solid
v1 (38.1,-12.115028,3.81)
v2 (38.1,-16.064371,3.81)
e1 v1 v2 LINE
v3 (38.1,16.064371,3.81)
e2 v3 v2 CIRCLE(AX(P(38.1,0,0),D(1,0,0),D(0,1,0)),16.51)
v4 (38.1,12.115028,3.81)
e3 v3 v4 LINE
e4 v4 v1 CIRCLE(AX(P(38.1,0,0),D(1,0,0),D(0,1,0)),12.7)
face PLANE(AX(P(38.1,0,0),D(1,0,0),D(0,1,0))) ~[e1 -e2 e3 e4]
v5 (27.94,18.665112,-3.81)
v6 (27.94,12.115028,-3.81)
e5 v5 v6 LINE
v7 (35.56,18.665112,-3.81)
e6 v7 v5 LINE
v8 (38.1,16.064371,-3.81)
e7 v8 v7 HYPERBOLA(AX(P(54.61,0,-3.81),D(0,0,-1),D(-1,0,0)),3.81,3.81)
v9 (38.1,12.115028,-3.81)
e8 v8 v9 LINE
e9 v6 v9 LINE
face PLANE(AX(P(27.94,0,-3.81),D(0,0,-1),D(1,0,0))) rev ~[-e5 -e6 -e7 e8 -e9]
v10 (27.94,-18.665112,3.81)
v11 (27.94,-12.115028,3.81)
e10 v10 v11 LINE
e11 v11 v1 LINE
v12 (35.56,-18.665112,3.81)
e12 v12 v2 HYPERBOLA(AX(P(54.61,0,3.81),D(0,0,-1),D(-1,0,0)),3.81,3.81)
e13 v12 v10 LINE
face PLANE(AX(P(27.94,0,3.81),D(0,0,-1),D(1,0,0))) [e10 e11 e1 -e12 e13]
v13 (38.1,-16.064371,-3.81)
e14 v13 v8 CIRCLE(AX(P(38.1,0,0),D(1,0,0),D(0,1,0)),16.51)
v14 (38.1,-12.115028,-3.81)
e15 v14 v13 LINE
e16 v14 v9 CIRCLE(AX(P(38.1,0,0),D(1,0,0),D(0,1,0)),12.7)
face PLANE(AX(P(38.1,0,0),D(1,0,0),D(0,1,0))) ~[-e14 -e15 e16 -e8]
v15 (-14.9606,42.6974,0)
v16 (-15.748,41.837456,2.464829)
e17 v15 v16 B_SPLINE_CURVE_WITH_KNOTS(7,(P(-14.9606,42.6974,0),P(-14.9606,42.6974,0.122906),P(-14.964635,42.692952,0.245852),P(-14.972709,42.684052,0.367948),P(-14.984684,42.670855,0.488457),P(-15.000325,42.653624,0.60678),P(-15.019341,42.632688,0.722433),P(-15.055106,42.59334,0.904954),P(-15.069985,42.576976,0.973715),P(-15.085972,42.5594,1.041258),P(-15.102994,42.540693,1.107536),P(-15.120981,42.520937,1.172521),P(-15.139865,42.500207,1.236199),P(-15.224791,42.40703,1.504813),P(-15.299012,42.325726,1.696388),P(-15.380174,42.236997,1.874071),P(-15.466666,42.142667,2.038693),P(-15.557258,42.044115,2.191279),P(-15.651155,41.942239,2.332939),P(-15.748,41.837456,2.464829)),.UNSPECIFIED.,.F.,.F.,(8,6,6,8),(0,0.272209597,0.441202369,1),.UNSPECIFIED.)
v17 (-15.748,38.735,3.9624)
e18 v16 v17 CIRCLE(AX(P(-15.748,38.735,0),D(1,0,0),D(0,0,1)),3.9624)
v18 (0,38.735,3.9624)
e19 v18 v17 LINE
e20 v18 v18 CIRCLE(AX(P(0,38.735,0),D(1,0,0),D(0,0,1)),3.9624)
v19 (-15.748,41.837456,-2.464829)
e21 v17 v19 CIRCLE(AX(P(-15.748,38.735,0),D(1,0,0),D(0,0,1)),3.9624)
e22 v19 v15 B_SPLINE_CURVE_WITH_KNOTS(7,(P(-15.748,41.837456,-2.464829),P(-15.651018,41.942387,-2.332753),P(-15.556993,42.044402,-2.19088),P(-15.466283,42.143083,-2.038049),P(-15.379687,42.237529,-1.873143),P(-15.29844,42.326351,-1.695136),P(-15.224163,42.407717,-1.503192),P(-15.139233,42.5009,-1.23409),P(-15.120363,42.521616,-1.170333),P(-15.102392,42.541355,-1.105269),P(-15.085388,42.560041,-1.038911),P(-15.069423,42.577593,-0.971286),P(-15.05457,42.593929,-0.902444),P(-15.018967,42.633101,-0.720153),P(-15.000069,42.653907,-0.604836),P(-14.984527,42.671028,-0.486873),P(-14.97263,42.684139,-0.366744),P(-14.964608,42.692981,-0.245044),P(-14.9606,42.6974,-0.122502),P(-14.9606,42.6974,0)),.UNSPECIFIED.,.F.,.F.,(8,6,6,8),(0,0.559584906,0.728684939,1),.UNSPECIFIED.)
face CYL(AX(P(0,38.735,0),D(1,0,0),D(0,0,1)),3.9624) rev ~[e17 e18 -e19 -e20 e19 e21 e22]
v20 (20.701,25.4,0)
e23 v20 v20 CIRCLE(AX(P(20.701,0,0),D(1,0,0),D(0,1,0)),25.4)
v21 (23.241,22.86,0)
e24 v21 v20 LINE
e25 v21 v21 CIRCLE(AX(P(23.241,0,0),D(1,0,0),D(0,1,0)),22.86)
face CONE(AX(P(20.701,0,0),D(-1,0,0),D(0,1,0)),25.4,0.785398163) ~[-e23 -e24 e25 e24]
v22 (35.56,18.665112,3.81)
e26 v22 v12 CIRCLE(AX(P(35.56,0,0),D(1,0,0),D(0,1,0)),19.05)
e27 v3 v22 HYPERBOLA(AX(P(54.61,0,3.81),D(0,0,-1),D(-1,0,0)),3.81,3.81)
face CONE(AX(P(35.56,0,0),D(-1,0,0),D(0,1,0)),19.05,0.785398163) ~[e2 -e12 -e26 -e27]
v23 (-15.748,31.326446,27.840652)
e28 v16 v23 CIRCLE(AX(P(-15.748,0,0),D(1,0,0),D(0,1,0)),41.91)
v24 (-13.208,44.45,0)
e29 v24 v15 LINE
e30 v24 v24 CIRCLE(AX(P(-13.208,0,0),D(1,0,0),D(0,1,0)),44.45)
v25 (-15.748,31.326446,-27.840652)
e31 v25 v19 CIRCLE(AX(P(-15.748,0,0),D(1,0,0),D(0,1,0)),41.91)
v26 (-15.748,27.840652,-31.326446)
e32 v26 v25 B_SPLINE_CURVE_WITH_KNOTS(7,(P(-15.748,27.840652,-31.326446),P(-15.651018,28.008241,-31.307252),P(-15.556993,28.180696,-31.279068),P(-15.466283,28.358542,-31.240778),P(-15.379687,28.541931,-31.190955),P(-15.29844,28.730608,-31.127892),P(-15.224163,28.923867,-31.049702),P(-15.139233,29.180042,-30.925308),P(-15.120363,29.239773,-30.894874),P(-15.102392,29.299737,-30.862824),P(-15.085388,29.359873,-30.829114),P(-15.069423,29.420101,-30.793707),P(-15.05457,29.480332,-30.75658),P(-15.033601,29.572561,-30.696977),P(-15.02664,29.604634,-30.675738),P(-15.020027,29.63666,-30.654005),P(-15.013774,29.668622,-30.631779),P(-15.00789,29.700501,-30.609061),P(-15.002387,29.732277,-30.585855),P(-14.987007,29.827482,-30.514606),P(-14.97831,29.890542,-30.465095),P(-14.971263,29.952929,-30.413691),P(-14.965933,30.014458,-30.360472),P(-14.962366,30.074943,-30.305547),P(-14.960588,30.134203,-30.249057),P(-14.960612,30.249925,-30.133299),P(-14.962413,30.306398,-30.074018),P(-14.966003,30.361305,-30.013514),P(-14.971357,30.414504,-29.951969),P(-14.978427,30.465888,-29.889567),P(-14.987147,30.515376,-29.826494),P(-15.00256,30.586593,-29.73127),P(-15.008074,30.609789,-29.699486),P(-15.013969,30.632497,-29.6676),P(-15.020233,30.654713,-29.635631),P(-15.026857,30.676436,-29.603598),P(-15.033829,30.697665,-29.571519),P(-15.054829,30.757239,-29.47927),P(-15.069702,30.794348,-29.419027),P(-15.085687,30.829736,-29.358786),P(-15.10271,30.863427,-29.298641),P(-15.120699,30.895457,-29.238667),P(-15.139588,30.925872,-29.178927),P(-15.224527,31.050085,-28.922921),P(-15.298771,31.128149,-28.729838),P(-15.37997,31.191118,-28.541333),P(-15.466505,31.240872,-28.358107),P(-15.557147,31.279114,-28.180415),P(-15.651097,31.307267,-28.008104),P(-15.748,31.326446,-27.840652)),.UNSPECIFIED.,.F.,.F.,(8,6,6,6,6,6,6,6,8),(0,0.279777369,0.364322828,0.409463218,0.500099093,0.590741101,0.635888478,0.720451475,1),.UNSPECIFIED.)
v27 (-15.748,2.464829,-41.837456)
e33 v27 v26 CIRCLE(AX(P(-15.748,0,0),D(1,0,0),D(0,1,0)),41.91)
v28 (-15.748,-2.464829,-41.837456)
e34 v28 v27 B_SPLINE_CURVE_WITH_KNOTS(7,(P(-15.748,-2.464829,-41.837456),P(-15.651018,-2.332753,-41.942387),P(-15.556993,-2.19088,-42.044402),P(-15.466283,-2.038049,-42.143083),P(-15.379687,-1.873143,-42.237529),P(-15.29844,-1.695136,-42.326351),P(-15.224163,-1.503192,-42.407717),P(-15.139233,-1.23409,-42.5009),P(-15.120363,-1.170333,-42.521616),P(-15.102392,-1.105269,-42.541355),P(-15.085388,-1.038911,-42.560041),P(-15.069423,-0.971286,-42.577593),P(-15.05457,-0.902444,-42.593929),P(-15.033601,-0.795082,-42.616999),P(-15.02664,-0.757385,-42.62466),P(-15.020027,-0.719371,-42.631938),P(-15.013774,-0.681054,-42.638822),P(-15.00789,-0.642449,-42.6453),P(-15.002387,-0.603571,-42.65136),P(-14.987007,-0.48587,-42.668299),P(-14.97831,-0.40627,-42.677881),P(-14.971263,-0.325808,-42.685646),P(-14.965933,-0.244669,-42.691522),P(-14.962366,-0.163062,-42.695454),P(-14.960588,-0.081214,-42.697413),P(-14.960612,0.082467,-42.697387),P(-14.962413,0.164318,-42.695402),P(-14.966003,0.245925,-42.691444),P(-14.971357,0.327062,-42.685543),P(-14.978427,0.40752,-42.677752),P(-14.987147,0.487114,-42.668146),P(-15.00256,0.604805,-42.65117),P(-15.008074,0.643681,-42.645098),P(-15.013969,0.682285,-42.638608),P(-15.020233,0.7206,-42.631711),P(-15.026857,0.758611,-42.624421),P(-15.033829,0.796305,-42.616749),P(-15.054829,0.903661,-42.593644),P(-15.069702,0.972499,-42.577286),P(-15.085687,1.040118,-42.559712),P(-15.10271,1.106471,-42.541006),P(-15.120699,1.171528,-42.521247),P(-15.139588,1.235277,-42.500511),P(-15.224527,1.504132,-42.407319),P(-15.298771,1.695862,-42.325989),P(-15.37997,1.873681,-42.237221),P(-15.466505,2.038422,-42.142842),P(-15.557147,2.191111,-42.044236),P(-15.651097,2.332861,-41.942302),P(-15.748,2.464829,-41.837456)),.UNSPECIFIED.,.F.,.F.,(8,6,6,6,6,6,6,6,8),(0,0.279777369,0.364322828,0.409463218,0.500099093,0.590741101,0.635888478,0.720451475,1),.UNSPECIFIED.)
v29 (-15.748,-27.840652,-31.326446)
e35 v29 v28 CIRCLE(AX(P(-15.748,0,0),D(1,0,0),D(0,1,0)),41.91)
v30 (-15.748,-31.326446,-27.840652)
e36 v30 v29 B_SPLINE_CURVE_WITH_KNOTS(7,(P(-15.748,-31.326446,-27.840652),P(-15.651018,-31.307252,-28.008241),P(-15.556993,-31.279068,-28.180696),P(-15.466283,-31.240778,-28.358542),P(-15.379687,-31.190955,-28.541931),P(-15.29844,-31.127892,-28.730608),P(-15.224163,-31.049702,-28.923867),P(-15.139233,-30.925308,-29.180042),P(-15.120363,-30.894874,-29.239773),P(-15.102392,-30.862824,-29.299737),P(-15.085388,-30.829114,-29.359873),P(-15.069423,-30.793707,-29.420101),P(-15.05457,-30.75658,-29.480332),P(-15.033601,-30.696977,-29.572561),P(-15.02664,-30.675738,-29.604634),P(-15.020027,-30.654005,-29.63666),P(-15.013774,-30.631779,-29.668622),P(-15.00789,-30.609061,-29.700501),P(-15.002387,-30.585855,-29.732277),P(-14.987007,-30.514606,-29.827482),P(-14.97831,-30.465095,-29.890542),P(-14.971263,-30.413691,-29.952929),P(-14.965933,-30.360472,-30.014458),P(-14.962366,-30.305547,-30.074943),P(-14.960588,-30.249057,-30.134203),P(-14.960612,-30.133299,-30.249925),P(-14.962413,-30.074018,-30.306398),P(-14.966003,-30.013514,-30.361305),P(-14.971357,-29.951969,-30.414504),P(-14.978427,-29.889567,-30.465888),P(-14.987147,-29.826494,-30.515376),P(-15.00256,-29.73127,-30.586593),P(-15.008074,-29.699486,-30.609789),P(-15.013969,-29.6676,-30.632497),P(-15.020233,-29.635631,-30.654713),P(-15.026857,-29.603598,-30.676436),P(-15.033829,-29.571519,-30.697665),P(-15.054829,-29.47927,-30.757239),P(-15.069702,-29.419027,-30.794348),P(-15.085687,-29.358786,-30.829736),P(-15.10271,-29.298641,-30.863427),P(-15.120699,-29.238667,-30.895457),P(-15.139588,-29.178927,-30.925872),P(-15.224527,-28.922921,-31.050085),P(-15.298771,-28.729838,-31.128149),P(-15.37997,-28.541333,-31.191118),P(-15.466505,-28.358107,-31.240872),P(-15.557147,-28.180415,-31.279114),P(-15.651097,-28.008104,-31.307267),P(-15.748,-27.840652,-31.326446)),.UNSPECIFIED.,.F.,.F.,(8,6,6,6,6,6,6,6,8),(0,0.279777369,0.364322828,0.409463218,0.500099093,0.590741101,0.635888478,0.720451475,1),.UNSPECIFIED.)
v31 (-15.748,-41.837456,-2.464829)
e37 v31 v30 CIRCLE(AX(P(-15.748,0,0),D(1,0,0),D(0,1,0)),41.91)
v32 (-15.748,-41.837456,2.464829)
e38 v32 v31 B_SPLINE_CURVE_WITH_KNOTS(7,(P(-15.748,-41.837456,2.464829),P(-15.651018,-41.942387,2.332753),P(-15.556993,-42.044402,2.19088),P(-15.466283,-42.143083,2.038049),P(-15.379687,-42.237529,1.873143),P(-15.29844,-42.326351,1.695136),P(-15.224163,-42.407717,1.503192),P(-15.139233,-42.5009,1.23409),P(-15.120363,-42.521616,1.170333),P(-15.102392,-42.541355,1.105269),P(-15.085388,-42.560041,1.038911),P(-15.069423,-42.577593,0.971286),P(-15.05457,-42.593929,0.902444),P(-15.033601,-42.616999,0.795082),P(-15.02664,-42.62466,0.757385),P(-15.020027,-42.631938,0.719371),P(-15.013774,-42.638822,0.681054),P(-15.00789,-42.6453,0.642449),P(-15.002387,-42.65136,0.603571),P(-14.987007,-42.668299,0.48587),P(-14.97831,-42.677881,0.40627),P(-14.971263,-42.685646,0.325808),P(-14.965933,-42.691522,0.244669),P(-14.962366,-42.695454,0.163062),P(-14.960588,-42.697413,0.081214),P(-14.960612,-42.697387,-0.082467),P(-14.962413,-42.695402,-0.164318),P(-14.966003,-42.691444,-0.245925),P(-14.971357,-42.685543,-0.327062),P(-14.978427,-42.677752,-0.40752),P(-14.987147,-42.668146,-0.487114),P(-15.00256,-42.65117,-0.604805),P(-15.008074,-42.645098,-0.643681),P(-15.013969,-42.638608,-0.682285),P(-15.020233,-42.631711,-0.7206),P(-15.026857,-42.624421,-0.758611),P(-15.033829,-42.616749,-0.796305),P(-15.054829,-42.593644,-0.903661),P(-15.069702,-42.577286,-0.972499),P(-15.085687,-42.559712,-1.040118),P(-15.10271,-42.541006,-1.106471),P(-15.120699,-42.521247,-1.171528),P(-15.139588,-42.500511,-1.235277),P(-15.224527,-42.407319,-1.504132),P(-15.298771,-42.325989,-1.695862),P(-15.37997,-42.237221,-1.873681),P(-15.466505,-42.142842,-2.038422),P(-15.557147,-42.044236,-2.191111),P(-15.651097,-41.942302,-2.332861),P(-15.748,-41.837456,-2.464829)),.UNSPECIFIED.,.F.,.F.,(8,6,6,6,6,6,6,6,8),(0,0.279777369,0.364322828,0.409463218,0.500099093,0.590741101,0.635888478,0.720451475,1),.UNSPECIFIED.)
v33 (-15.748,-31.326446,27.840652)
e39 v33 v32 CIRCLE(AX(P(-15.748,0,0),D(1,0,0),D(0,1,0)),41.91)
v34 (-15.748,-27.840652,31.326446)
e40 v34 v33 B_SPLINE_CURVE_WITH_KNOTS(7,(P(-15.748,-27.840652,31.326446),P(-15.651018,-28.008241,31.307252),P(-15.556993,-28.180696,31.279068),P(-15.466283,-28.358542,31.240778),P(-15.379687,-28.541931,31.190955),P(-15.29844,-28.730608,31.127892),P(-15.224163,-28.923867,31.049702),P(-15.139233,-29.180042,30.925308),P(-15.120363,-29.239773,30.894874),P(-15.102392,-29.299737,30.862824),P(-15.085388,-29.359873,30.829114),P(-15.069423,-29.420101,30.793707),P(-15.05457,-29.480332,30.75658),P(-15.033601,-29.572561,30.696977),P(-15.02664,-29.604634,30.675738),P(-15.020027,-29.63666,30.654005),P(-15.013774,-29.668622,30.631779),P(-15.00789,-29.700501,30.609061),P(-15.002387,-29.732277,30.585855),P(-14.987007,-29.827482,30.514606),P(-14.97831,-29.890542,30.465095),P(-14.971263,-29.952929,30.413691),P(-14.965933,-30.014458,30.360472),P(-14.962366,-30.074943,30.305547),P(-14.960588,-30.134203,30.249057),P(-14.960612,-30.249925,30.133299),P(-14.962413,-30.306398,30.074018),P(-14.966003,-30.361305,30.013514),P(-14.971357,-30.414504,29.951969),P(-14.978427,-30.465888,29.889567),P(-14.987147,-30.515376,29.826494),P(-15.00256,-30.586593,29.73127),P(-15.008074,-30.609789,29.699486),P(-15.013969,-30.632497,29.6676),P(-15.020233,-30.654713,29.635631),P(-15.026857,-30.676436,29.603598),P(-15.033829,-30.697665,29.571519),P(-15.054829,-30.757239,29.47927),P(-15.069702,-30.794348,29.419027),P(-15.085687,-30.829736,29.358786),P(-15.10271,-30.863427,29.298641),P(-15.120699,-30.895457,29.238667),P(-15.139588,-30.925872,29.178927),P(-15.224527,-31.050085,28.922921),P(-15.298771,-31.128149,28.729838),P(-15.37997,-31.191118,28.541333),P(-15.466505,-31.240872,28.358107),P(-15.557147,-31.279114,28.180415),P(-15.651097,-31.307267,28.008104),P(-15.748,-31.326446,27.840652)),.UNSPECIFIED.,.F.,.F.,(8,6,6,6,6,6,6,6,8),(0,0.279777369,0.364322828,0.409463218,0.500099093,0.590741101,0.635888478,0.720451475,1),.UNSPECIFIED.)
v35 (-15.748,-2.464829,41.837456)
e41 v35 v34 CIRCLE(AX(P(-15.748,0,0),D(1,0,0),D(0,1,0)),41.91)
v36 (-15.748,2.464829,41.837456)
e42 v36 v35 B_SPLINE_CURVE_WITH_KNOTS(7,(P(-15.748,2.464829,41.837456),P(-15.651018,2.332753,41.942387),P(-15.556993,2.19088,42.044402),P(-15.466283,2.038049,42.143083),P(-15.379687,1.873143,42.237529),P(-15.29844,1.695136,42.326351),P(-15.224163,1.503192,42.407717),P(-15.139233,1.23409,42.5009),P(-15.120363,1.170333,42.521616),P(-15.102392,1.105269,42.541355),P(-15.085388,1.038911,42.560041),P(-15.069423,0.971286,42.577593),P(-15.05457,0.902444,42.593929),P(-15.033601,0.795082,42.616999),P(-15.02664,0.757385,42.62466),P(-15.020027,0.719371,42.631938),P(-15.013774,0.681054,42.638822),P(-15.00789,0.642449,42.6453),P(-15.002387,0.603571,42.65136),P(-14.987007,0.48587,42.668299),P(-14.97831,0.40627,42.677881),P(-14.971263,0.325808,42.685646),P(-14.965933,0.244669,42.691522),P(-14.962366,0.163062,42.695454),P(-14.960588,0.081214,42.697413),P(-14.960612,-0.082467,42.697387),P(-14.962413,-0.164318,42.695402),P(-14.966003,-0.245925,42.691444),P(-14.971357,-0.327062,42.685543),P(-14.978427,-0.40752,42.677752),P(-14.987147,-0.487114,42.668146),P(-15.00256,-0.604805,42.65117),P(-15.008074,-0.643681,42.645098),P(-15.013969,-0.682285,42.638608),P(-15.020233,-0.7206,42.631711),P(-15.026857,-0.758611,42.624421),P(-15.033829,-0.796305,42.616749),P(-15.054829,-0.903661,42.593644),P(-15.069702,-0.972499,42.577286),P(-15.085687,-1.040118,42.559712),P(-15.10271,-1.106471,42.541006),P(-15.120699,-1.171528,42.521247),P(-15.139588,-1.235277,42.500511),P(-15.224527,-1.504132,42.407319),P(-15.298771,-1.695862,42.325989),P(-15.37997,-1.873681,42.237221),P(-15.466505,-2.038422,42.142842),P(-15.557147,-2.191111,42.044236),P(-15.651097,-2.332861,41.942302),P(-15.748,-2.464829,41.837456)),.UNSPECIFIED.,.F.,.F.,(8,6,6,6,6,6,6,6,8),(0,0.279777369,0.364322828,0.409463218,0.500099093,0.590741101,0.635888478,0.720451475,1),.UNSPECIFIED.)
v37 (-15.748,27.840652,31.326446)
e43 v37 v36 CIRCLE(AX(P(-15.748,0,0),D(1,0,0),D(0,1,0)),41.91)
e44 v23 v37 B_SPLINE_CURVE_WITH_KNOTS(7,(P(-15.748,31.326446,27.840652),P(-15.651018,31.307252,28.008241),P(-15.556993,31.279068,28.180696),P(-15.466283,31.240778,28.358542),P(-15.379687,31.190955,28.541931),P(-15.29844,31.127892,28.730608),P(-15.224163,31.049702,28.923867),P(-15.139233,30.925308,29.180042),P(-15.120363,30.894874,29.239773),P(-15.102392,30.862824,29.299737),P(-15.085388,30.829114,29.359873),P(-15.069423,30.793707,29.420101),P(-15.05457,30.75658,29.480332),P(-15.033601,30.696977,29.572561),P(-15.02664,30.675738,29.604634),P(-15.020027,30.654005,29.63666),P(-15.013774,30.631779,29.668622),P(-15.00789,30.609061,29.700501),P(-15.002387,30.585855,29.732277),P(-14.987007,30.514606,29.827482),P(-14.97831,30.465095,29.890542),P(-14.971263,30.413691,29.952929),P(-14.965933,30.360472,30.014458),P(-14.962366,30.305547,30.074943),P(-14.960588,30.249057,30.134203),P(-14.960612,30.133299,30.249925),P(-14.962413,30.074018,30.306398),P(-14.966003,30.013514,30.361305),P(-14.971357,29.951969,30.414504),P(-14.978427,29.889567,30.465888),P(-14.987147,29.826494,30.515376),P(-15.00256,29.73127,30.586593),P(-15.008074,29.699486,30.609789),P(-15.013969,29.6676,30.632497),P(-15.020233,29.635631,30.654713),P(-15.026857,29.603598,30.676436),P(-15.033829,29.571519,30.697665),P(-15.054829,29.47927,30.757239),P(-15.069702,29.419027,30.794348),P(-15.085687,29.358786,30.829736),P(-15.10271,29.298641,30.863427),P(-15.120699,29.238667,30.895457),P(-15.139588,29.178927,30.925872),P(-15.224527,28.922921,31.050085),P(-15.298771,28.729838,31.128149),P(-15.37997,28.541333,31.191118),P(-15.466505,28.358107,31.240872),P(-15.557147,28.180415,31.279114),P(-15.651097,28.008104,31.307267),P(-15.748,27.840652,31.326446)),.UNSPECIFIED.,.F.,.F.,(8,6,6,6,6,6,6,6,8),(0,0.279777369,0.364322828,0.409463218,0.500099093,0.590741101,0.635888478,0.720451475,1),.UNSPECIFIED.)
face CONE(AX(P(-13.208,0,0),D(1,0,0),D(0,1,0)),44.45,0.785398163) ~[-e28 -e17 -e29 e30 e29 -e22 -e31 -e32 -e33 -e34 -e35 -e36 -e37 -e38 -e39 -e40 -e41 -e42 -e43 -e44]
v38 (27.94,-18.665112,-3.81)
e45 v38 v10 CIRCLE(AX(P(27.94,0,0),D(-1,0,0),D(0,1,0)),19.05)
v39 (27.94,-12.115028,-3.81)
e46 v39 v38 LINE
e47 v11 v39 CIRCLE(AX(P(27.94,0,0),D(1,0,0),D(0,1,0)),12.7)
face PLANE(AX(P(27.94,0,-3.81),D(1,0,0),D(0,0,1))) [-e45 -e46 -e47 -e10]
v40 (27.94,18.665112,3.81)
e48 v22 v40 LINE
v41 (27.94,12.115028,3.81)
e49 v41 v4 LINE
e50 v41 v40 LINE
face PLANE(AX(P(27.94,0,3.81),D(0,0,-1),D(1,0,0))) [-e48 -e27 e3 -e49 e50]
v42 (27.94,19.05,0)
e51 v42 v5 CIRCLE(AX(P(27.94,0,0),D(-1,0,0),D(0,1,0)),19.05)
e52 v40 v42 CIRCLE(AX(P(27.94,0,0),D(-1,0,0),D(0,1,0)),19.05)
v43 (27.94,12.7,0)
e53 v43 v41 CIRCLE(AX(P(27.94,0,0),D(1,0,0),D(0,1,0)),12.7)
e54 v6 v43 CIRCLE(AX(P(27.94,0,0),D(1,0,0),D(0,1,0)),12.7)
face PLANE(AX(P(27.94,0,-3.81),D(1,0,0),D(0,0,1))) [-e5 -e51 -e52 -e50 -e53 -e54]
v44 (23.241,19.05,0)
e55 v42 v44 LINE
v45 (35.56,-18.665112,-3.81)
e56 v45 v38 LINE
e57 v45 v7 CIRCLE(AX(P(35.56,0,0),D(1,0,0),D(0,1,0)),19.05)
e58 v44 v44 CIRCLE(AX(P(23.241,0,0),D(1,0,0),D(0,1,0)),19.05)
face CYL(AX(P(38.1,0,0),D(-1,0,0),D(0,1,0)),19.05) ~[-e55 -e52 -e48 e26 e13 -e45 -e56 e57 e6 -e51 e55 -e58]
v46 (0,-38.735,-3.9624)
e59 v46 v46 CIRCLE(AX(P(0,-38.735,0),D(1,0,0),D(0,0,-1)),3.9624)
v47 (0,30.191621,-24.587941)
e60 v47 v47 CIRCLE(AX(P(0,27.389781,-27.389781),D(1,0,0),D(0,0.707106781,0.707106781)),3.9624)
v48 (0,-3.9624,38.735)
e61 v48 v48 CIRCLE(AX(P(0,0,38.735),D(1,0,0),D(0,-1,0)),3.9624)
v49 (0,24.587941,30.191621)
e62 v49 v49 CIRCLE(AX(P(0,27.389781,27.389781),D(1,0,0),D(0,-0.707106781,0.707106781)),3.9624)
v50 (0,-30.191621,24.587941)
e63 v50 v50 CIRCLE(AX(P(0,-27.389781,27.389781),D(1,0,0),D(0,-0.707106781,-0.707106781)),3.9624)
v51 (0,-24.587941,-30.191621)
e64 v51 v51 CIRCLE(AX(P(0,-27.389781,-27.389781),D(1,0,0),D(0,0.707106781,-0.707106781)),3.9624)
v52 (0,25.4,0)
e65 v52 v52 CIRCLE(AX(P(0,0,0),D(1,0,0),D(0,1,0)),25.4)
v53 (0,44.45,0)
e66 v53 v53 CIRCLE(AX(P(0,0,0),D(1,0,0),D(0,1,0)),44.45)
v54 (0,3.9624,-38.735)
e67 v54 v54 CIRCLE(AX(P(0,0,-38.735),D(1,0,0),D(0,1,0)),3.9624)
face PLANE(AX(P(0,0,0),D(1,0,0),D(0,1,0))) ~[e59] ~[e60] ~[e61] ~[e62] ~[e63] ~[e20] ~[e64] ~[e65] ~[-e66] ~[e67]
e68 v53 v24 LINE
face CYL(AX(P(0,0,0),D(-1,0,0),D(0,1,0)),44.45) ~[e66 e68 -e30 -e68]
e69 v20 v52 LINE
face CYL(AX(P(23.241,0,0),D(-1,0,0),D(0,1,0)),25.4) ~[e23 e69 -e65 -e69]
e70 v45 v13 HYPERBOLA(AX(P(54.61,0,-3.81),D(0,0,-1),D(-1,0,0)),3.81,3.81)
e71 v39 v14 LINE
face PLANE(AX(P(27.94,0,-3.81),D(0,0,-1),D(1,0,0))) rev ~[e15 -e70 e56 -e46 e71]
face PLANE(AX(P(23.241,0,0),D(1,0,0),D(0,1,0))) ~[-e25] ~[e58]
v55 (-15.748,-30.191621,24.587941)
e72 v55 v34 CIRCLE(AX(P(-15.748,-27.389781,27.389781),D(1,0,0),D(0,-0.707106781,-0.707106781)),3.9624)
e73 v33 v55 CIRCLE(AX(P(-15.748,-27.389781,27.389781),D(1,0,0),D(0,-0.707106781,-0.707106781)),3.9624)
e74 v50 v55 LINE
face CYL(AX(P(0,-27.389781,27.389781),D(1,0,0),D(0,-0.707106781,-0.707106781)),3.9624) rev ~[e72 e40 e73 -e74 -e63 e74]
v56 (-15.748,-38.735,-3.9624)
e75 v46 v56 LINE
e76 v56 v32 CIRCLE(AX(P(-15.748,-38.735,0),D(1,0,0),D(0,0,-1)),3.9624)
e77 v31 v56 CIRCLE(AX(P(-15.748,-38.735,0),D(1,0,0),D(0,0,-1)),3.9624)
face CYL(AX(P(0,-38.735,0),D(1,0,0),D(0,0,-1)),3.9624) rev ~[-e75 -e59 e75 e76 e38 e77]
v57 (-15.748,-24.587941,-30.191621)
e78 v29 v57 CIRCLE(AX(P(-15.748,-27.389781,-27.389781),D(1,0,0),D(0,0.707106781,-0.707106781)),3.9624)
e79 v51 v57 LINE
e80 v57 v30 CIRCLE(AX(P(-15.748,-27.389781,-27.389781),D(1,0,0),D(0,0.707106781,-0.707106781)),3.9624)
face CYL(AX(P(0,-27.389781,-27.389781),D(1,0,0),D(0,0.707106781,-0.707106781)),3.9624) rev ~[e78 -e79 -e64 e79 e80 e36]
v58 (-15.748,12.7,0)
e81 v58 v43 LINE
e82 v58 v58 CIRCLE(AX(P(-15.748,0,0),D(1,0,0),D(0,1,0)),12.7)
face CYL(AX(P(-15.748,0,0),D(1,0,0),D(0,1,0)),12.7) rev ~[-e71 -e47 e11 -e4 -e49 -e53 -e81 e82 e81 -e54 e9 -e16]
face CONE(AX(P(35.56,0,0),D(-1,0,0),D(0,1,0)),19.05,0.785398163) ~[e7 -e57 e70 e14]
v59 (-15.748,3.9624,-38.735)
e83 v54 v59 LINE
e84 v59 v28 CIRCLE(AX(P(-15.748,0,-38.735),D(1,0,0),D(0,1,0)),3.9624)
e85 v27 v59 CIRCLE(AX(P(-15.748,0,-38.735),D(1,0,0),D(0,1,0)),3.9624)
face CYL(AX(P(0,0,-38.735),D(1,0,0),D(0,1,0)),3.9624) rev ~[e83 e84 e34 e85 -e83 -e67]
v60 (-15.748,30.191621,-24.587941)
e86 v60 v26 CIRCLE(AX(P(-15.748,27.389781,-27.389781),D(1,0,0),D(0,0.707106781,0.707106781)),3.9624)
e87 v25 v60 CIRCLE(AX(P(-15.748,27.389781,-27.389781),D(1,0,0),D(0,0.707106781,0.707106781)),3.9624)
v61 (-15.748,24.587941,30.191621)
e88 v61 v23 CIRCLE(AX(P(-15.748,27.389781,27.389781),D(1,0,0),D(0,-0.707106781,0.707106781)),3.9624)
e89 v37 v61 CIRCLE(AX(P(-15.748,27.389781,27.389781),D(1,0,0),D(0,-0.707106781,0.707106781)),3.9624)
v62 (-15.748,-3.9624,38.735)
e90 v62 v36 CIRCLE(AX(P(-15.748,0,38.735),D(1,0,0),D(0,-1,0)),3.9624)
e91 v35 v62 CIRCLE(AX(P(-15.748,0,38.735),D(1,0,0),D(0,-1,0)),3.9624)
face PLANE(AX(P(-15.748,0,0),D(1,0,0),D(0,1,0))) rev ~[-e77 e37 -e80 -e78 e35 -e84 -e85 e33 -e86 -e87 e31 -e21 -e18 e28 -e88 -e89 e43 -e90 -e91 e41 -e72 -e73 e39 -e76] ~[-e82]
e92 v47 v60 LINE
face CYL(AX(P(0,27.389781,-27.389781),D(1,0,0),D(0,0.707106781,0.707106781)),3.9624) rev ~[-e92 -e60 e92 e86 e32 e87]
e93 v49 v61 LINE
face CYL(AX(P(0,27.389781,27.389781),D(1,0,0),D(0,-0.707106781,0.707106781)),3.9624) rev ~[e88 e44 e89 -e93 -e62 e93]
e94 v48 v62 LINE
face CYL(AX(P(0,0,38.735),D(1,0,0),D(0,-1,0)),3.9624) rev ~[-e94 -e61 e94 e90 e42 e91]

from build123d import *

# Parameters (mm, degrees)
F2_SIZE       = 2.54
F3_W          = 50.8
F3_H          = 7.62
F4_DEPTH      = 42.672
F6_R          = 3.9624
F7_DEPTH      = 38.608
F7_DEPTH_BACK = 9.398
F8_COUNT      = 8


with BuildPart() as f1:
    # F0 (on Top) → F1 (revolve)
    with BuildSketch(Plane.XY):
        Polygon((0, 25.4), (0, 44.45), (-15.748, 44.45), (-15.748, 12.7), (38.1, 12.7), (38.1, 19.05), (23.241, 19.05), (23.241, 25.4), align=None)
    revolve(axis=Axis((76.2, 0, 0), (1, 0, 0)))

    # F2
    f2_edges = [f1.edges().sort_by_distance(p)[0] for p in [
        (38.1, -19.05, 0),
        (23.241, -25.4, 0),
        (-15.748, -44.45, 0),
    ]]
    chamfer(f2_edges, length=F2_SIZE)


with BuildPart() as f4:
    # F3 (on Front) → F4 (new body, symmetric)
    with BuildSketch(Plane.XZ):
        with Locations((53.34, 0)):
            Rectangle(F3_W, F3_H)
    extrude(amount=F4_DEPTH, both=True)


with BuildPart() as f1_1:
    add(f1.part)

    # F5: cut F4
    add(f4.part, mode=Mode.SUBTRACT)


with BuildPart() as f7:
    # F6 (on face) → F7 (new body, two sides)
    with BuildSketch(Plane.YZ) as f7_sk:
        with Locations((0, -38.735)):
            Circle(F6_R)
    extrude(amount=-F7_DEPTH)
    extrude(f7_sk.sketch, amount=F7_DEPTH_BACK)


with BuildPart() as f8_1:
    # F8: instance of F7
    add(f7.part.rotate(Axis((-15.748, 0, 0), (1, 0, 0)), 1 * 360 / F8_COUNT))


with BuildPart() as f8_2:
    # F8: instance of F7
    add(f7.part.rotate(Axis((-15.748, 0, 0), (1, 0, 0)), 2 * 360 / F8_COUNT))


with BuildPart() as f8_3:
    # F8: instance of F7
    add(f7.part.rotate(Axis((-15.748, 0, 0), (1, 0, 0)), 3 * 360 / F8_COUNT))


with BuildPart() as f8_4:
    # F8: instance of F7
    add(f7.part.rotate(Axis((-15.748, 0, 0), (1, 0, 0)), 4 * 360 / F8_COUNT))


with BuildPart() as f8_5:
    # F8: instance of F7
    add(f7.part.rotate(Axis((-15.748, 0, 0), (1, 0, 0)), 5 * 360 / F8_COUNT))


with BuildPart() as f8_6:
    # F8: instance of F7
    add(f7.part.rotate(Axis((-15.748, 0, 0), (1, 0, 0)), 6 * 360 / F8_COUNT))


with BuildPart() as f8_7:
    # F8: instance of F7
    add(f7.part.rotate(Axis((-15.748, 0, 0), (1, 0, 0)), 7 * 360 / F8_COUNT))


with BuildPart() as f1_2:
    add(f1_1.part)

    # F9: cut F8_5, F7, F8_1, F8_4, F8_7, F8_6, F8_2, F8_3
    add(f8_5.part, mode=Mode.SUBTRACT)
    add(f7.part, mode=Mode.SUBTRACT)
    add(f8_1.part, mode=Mode.SUBTRACT)
    add(f8_4.part, mode=Mode.SUBTRACT)
    add(f8_7.part, mode=Mode.SUBTRACT)
    add(f8_6.part, mode=Mode.SUBTRACT)
    add(f8_2.part, mode=Mode.SUBTRACT)
    add(f8_3.part, mode=Mode.SUBTRACT)


solid = f1_2.part
